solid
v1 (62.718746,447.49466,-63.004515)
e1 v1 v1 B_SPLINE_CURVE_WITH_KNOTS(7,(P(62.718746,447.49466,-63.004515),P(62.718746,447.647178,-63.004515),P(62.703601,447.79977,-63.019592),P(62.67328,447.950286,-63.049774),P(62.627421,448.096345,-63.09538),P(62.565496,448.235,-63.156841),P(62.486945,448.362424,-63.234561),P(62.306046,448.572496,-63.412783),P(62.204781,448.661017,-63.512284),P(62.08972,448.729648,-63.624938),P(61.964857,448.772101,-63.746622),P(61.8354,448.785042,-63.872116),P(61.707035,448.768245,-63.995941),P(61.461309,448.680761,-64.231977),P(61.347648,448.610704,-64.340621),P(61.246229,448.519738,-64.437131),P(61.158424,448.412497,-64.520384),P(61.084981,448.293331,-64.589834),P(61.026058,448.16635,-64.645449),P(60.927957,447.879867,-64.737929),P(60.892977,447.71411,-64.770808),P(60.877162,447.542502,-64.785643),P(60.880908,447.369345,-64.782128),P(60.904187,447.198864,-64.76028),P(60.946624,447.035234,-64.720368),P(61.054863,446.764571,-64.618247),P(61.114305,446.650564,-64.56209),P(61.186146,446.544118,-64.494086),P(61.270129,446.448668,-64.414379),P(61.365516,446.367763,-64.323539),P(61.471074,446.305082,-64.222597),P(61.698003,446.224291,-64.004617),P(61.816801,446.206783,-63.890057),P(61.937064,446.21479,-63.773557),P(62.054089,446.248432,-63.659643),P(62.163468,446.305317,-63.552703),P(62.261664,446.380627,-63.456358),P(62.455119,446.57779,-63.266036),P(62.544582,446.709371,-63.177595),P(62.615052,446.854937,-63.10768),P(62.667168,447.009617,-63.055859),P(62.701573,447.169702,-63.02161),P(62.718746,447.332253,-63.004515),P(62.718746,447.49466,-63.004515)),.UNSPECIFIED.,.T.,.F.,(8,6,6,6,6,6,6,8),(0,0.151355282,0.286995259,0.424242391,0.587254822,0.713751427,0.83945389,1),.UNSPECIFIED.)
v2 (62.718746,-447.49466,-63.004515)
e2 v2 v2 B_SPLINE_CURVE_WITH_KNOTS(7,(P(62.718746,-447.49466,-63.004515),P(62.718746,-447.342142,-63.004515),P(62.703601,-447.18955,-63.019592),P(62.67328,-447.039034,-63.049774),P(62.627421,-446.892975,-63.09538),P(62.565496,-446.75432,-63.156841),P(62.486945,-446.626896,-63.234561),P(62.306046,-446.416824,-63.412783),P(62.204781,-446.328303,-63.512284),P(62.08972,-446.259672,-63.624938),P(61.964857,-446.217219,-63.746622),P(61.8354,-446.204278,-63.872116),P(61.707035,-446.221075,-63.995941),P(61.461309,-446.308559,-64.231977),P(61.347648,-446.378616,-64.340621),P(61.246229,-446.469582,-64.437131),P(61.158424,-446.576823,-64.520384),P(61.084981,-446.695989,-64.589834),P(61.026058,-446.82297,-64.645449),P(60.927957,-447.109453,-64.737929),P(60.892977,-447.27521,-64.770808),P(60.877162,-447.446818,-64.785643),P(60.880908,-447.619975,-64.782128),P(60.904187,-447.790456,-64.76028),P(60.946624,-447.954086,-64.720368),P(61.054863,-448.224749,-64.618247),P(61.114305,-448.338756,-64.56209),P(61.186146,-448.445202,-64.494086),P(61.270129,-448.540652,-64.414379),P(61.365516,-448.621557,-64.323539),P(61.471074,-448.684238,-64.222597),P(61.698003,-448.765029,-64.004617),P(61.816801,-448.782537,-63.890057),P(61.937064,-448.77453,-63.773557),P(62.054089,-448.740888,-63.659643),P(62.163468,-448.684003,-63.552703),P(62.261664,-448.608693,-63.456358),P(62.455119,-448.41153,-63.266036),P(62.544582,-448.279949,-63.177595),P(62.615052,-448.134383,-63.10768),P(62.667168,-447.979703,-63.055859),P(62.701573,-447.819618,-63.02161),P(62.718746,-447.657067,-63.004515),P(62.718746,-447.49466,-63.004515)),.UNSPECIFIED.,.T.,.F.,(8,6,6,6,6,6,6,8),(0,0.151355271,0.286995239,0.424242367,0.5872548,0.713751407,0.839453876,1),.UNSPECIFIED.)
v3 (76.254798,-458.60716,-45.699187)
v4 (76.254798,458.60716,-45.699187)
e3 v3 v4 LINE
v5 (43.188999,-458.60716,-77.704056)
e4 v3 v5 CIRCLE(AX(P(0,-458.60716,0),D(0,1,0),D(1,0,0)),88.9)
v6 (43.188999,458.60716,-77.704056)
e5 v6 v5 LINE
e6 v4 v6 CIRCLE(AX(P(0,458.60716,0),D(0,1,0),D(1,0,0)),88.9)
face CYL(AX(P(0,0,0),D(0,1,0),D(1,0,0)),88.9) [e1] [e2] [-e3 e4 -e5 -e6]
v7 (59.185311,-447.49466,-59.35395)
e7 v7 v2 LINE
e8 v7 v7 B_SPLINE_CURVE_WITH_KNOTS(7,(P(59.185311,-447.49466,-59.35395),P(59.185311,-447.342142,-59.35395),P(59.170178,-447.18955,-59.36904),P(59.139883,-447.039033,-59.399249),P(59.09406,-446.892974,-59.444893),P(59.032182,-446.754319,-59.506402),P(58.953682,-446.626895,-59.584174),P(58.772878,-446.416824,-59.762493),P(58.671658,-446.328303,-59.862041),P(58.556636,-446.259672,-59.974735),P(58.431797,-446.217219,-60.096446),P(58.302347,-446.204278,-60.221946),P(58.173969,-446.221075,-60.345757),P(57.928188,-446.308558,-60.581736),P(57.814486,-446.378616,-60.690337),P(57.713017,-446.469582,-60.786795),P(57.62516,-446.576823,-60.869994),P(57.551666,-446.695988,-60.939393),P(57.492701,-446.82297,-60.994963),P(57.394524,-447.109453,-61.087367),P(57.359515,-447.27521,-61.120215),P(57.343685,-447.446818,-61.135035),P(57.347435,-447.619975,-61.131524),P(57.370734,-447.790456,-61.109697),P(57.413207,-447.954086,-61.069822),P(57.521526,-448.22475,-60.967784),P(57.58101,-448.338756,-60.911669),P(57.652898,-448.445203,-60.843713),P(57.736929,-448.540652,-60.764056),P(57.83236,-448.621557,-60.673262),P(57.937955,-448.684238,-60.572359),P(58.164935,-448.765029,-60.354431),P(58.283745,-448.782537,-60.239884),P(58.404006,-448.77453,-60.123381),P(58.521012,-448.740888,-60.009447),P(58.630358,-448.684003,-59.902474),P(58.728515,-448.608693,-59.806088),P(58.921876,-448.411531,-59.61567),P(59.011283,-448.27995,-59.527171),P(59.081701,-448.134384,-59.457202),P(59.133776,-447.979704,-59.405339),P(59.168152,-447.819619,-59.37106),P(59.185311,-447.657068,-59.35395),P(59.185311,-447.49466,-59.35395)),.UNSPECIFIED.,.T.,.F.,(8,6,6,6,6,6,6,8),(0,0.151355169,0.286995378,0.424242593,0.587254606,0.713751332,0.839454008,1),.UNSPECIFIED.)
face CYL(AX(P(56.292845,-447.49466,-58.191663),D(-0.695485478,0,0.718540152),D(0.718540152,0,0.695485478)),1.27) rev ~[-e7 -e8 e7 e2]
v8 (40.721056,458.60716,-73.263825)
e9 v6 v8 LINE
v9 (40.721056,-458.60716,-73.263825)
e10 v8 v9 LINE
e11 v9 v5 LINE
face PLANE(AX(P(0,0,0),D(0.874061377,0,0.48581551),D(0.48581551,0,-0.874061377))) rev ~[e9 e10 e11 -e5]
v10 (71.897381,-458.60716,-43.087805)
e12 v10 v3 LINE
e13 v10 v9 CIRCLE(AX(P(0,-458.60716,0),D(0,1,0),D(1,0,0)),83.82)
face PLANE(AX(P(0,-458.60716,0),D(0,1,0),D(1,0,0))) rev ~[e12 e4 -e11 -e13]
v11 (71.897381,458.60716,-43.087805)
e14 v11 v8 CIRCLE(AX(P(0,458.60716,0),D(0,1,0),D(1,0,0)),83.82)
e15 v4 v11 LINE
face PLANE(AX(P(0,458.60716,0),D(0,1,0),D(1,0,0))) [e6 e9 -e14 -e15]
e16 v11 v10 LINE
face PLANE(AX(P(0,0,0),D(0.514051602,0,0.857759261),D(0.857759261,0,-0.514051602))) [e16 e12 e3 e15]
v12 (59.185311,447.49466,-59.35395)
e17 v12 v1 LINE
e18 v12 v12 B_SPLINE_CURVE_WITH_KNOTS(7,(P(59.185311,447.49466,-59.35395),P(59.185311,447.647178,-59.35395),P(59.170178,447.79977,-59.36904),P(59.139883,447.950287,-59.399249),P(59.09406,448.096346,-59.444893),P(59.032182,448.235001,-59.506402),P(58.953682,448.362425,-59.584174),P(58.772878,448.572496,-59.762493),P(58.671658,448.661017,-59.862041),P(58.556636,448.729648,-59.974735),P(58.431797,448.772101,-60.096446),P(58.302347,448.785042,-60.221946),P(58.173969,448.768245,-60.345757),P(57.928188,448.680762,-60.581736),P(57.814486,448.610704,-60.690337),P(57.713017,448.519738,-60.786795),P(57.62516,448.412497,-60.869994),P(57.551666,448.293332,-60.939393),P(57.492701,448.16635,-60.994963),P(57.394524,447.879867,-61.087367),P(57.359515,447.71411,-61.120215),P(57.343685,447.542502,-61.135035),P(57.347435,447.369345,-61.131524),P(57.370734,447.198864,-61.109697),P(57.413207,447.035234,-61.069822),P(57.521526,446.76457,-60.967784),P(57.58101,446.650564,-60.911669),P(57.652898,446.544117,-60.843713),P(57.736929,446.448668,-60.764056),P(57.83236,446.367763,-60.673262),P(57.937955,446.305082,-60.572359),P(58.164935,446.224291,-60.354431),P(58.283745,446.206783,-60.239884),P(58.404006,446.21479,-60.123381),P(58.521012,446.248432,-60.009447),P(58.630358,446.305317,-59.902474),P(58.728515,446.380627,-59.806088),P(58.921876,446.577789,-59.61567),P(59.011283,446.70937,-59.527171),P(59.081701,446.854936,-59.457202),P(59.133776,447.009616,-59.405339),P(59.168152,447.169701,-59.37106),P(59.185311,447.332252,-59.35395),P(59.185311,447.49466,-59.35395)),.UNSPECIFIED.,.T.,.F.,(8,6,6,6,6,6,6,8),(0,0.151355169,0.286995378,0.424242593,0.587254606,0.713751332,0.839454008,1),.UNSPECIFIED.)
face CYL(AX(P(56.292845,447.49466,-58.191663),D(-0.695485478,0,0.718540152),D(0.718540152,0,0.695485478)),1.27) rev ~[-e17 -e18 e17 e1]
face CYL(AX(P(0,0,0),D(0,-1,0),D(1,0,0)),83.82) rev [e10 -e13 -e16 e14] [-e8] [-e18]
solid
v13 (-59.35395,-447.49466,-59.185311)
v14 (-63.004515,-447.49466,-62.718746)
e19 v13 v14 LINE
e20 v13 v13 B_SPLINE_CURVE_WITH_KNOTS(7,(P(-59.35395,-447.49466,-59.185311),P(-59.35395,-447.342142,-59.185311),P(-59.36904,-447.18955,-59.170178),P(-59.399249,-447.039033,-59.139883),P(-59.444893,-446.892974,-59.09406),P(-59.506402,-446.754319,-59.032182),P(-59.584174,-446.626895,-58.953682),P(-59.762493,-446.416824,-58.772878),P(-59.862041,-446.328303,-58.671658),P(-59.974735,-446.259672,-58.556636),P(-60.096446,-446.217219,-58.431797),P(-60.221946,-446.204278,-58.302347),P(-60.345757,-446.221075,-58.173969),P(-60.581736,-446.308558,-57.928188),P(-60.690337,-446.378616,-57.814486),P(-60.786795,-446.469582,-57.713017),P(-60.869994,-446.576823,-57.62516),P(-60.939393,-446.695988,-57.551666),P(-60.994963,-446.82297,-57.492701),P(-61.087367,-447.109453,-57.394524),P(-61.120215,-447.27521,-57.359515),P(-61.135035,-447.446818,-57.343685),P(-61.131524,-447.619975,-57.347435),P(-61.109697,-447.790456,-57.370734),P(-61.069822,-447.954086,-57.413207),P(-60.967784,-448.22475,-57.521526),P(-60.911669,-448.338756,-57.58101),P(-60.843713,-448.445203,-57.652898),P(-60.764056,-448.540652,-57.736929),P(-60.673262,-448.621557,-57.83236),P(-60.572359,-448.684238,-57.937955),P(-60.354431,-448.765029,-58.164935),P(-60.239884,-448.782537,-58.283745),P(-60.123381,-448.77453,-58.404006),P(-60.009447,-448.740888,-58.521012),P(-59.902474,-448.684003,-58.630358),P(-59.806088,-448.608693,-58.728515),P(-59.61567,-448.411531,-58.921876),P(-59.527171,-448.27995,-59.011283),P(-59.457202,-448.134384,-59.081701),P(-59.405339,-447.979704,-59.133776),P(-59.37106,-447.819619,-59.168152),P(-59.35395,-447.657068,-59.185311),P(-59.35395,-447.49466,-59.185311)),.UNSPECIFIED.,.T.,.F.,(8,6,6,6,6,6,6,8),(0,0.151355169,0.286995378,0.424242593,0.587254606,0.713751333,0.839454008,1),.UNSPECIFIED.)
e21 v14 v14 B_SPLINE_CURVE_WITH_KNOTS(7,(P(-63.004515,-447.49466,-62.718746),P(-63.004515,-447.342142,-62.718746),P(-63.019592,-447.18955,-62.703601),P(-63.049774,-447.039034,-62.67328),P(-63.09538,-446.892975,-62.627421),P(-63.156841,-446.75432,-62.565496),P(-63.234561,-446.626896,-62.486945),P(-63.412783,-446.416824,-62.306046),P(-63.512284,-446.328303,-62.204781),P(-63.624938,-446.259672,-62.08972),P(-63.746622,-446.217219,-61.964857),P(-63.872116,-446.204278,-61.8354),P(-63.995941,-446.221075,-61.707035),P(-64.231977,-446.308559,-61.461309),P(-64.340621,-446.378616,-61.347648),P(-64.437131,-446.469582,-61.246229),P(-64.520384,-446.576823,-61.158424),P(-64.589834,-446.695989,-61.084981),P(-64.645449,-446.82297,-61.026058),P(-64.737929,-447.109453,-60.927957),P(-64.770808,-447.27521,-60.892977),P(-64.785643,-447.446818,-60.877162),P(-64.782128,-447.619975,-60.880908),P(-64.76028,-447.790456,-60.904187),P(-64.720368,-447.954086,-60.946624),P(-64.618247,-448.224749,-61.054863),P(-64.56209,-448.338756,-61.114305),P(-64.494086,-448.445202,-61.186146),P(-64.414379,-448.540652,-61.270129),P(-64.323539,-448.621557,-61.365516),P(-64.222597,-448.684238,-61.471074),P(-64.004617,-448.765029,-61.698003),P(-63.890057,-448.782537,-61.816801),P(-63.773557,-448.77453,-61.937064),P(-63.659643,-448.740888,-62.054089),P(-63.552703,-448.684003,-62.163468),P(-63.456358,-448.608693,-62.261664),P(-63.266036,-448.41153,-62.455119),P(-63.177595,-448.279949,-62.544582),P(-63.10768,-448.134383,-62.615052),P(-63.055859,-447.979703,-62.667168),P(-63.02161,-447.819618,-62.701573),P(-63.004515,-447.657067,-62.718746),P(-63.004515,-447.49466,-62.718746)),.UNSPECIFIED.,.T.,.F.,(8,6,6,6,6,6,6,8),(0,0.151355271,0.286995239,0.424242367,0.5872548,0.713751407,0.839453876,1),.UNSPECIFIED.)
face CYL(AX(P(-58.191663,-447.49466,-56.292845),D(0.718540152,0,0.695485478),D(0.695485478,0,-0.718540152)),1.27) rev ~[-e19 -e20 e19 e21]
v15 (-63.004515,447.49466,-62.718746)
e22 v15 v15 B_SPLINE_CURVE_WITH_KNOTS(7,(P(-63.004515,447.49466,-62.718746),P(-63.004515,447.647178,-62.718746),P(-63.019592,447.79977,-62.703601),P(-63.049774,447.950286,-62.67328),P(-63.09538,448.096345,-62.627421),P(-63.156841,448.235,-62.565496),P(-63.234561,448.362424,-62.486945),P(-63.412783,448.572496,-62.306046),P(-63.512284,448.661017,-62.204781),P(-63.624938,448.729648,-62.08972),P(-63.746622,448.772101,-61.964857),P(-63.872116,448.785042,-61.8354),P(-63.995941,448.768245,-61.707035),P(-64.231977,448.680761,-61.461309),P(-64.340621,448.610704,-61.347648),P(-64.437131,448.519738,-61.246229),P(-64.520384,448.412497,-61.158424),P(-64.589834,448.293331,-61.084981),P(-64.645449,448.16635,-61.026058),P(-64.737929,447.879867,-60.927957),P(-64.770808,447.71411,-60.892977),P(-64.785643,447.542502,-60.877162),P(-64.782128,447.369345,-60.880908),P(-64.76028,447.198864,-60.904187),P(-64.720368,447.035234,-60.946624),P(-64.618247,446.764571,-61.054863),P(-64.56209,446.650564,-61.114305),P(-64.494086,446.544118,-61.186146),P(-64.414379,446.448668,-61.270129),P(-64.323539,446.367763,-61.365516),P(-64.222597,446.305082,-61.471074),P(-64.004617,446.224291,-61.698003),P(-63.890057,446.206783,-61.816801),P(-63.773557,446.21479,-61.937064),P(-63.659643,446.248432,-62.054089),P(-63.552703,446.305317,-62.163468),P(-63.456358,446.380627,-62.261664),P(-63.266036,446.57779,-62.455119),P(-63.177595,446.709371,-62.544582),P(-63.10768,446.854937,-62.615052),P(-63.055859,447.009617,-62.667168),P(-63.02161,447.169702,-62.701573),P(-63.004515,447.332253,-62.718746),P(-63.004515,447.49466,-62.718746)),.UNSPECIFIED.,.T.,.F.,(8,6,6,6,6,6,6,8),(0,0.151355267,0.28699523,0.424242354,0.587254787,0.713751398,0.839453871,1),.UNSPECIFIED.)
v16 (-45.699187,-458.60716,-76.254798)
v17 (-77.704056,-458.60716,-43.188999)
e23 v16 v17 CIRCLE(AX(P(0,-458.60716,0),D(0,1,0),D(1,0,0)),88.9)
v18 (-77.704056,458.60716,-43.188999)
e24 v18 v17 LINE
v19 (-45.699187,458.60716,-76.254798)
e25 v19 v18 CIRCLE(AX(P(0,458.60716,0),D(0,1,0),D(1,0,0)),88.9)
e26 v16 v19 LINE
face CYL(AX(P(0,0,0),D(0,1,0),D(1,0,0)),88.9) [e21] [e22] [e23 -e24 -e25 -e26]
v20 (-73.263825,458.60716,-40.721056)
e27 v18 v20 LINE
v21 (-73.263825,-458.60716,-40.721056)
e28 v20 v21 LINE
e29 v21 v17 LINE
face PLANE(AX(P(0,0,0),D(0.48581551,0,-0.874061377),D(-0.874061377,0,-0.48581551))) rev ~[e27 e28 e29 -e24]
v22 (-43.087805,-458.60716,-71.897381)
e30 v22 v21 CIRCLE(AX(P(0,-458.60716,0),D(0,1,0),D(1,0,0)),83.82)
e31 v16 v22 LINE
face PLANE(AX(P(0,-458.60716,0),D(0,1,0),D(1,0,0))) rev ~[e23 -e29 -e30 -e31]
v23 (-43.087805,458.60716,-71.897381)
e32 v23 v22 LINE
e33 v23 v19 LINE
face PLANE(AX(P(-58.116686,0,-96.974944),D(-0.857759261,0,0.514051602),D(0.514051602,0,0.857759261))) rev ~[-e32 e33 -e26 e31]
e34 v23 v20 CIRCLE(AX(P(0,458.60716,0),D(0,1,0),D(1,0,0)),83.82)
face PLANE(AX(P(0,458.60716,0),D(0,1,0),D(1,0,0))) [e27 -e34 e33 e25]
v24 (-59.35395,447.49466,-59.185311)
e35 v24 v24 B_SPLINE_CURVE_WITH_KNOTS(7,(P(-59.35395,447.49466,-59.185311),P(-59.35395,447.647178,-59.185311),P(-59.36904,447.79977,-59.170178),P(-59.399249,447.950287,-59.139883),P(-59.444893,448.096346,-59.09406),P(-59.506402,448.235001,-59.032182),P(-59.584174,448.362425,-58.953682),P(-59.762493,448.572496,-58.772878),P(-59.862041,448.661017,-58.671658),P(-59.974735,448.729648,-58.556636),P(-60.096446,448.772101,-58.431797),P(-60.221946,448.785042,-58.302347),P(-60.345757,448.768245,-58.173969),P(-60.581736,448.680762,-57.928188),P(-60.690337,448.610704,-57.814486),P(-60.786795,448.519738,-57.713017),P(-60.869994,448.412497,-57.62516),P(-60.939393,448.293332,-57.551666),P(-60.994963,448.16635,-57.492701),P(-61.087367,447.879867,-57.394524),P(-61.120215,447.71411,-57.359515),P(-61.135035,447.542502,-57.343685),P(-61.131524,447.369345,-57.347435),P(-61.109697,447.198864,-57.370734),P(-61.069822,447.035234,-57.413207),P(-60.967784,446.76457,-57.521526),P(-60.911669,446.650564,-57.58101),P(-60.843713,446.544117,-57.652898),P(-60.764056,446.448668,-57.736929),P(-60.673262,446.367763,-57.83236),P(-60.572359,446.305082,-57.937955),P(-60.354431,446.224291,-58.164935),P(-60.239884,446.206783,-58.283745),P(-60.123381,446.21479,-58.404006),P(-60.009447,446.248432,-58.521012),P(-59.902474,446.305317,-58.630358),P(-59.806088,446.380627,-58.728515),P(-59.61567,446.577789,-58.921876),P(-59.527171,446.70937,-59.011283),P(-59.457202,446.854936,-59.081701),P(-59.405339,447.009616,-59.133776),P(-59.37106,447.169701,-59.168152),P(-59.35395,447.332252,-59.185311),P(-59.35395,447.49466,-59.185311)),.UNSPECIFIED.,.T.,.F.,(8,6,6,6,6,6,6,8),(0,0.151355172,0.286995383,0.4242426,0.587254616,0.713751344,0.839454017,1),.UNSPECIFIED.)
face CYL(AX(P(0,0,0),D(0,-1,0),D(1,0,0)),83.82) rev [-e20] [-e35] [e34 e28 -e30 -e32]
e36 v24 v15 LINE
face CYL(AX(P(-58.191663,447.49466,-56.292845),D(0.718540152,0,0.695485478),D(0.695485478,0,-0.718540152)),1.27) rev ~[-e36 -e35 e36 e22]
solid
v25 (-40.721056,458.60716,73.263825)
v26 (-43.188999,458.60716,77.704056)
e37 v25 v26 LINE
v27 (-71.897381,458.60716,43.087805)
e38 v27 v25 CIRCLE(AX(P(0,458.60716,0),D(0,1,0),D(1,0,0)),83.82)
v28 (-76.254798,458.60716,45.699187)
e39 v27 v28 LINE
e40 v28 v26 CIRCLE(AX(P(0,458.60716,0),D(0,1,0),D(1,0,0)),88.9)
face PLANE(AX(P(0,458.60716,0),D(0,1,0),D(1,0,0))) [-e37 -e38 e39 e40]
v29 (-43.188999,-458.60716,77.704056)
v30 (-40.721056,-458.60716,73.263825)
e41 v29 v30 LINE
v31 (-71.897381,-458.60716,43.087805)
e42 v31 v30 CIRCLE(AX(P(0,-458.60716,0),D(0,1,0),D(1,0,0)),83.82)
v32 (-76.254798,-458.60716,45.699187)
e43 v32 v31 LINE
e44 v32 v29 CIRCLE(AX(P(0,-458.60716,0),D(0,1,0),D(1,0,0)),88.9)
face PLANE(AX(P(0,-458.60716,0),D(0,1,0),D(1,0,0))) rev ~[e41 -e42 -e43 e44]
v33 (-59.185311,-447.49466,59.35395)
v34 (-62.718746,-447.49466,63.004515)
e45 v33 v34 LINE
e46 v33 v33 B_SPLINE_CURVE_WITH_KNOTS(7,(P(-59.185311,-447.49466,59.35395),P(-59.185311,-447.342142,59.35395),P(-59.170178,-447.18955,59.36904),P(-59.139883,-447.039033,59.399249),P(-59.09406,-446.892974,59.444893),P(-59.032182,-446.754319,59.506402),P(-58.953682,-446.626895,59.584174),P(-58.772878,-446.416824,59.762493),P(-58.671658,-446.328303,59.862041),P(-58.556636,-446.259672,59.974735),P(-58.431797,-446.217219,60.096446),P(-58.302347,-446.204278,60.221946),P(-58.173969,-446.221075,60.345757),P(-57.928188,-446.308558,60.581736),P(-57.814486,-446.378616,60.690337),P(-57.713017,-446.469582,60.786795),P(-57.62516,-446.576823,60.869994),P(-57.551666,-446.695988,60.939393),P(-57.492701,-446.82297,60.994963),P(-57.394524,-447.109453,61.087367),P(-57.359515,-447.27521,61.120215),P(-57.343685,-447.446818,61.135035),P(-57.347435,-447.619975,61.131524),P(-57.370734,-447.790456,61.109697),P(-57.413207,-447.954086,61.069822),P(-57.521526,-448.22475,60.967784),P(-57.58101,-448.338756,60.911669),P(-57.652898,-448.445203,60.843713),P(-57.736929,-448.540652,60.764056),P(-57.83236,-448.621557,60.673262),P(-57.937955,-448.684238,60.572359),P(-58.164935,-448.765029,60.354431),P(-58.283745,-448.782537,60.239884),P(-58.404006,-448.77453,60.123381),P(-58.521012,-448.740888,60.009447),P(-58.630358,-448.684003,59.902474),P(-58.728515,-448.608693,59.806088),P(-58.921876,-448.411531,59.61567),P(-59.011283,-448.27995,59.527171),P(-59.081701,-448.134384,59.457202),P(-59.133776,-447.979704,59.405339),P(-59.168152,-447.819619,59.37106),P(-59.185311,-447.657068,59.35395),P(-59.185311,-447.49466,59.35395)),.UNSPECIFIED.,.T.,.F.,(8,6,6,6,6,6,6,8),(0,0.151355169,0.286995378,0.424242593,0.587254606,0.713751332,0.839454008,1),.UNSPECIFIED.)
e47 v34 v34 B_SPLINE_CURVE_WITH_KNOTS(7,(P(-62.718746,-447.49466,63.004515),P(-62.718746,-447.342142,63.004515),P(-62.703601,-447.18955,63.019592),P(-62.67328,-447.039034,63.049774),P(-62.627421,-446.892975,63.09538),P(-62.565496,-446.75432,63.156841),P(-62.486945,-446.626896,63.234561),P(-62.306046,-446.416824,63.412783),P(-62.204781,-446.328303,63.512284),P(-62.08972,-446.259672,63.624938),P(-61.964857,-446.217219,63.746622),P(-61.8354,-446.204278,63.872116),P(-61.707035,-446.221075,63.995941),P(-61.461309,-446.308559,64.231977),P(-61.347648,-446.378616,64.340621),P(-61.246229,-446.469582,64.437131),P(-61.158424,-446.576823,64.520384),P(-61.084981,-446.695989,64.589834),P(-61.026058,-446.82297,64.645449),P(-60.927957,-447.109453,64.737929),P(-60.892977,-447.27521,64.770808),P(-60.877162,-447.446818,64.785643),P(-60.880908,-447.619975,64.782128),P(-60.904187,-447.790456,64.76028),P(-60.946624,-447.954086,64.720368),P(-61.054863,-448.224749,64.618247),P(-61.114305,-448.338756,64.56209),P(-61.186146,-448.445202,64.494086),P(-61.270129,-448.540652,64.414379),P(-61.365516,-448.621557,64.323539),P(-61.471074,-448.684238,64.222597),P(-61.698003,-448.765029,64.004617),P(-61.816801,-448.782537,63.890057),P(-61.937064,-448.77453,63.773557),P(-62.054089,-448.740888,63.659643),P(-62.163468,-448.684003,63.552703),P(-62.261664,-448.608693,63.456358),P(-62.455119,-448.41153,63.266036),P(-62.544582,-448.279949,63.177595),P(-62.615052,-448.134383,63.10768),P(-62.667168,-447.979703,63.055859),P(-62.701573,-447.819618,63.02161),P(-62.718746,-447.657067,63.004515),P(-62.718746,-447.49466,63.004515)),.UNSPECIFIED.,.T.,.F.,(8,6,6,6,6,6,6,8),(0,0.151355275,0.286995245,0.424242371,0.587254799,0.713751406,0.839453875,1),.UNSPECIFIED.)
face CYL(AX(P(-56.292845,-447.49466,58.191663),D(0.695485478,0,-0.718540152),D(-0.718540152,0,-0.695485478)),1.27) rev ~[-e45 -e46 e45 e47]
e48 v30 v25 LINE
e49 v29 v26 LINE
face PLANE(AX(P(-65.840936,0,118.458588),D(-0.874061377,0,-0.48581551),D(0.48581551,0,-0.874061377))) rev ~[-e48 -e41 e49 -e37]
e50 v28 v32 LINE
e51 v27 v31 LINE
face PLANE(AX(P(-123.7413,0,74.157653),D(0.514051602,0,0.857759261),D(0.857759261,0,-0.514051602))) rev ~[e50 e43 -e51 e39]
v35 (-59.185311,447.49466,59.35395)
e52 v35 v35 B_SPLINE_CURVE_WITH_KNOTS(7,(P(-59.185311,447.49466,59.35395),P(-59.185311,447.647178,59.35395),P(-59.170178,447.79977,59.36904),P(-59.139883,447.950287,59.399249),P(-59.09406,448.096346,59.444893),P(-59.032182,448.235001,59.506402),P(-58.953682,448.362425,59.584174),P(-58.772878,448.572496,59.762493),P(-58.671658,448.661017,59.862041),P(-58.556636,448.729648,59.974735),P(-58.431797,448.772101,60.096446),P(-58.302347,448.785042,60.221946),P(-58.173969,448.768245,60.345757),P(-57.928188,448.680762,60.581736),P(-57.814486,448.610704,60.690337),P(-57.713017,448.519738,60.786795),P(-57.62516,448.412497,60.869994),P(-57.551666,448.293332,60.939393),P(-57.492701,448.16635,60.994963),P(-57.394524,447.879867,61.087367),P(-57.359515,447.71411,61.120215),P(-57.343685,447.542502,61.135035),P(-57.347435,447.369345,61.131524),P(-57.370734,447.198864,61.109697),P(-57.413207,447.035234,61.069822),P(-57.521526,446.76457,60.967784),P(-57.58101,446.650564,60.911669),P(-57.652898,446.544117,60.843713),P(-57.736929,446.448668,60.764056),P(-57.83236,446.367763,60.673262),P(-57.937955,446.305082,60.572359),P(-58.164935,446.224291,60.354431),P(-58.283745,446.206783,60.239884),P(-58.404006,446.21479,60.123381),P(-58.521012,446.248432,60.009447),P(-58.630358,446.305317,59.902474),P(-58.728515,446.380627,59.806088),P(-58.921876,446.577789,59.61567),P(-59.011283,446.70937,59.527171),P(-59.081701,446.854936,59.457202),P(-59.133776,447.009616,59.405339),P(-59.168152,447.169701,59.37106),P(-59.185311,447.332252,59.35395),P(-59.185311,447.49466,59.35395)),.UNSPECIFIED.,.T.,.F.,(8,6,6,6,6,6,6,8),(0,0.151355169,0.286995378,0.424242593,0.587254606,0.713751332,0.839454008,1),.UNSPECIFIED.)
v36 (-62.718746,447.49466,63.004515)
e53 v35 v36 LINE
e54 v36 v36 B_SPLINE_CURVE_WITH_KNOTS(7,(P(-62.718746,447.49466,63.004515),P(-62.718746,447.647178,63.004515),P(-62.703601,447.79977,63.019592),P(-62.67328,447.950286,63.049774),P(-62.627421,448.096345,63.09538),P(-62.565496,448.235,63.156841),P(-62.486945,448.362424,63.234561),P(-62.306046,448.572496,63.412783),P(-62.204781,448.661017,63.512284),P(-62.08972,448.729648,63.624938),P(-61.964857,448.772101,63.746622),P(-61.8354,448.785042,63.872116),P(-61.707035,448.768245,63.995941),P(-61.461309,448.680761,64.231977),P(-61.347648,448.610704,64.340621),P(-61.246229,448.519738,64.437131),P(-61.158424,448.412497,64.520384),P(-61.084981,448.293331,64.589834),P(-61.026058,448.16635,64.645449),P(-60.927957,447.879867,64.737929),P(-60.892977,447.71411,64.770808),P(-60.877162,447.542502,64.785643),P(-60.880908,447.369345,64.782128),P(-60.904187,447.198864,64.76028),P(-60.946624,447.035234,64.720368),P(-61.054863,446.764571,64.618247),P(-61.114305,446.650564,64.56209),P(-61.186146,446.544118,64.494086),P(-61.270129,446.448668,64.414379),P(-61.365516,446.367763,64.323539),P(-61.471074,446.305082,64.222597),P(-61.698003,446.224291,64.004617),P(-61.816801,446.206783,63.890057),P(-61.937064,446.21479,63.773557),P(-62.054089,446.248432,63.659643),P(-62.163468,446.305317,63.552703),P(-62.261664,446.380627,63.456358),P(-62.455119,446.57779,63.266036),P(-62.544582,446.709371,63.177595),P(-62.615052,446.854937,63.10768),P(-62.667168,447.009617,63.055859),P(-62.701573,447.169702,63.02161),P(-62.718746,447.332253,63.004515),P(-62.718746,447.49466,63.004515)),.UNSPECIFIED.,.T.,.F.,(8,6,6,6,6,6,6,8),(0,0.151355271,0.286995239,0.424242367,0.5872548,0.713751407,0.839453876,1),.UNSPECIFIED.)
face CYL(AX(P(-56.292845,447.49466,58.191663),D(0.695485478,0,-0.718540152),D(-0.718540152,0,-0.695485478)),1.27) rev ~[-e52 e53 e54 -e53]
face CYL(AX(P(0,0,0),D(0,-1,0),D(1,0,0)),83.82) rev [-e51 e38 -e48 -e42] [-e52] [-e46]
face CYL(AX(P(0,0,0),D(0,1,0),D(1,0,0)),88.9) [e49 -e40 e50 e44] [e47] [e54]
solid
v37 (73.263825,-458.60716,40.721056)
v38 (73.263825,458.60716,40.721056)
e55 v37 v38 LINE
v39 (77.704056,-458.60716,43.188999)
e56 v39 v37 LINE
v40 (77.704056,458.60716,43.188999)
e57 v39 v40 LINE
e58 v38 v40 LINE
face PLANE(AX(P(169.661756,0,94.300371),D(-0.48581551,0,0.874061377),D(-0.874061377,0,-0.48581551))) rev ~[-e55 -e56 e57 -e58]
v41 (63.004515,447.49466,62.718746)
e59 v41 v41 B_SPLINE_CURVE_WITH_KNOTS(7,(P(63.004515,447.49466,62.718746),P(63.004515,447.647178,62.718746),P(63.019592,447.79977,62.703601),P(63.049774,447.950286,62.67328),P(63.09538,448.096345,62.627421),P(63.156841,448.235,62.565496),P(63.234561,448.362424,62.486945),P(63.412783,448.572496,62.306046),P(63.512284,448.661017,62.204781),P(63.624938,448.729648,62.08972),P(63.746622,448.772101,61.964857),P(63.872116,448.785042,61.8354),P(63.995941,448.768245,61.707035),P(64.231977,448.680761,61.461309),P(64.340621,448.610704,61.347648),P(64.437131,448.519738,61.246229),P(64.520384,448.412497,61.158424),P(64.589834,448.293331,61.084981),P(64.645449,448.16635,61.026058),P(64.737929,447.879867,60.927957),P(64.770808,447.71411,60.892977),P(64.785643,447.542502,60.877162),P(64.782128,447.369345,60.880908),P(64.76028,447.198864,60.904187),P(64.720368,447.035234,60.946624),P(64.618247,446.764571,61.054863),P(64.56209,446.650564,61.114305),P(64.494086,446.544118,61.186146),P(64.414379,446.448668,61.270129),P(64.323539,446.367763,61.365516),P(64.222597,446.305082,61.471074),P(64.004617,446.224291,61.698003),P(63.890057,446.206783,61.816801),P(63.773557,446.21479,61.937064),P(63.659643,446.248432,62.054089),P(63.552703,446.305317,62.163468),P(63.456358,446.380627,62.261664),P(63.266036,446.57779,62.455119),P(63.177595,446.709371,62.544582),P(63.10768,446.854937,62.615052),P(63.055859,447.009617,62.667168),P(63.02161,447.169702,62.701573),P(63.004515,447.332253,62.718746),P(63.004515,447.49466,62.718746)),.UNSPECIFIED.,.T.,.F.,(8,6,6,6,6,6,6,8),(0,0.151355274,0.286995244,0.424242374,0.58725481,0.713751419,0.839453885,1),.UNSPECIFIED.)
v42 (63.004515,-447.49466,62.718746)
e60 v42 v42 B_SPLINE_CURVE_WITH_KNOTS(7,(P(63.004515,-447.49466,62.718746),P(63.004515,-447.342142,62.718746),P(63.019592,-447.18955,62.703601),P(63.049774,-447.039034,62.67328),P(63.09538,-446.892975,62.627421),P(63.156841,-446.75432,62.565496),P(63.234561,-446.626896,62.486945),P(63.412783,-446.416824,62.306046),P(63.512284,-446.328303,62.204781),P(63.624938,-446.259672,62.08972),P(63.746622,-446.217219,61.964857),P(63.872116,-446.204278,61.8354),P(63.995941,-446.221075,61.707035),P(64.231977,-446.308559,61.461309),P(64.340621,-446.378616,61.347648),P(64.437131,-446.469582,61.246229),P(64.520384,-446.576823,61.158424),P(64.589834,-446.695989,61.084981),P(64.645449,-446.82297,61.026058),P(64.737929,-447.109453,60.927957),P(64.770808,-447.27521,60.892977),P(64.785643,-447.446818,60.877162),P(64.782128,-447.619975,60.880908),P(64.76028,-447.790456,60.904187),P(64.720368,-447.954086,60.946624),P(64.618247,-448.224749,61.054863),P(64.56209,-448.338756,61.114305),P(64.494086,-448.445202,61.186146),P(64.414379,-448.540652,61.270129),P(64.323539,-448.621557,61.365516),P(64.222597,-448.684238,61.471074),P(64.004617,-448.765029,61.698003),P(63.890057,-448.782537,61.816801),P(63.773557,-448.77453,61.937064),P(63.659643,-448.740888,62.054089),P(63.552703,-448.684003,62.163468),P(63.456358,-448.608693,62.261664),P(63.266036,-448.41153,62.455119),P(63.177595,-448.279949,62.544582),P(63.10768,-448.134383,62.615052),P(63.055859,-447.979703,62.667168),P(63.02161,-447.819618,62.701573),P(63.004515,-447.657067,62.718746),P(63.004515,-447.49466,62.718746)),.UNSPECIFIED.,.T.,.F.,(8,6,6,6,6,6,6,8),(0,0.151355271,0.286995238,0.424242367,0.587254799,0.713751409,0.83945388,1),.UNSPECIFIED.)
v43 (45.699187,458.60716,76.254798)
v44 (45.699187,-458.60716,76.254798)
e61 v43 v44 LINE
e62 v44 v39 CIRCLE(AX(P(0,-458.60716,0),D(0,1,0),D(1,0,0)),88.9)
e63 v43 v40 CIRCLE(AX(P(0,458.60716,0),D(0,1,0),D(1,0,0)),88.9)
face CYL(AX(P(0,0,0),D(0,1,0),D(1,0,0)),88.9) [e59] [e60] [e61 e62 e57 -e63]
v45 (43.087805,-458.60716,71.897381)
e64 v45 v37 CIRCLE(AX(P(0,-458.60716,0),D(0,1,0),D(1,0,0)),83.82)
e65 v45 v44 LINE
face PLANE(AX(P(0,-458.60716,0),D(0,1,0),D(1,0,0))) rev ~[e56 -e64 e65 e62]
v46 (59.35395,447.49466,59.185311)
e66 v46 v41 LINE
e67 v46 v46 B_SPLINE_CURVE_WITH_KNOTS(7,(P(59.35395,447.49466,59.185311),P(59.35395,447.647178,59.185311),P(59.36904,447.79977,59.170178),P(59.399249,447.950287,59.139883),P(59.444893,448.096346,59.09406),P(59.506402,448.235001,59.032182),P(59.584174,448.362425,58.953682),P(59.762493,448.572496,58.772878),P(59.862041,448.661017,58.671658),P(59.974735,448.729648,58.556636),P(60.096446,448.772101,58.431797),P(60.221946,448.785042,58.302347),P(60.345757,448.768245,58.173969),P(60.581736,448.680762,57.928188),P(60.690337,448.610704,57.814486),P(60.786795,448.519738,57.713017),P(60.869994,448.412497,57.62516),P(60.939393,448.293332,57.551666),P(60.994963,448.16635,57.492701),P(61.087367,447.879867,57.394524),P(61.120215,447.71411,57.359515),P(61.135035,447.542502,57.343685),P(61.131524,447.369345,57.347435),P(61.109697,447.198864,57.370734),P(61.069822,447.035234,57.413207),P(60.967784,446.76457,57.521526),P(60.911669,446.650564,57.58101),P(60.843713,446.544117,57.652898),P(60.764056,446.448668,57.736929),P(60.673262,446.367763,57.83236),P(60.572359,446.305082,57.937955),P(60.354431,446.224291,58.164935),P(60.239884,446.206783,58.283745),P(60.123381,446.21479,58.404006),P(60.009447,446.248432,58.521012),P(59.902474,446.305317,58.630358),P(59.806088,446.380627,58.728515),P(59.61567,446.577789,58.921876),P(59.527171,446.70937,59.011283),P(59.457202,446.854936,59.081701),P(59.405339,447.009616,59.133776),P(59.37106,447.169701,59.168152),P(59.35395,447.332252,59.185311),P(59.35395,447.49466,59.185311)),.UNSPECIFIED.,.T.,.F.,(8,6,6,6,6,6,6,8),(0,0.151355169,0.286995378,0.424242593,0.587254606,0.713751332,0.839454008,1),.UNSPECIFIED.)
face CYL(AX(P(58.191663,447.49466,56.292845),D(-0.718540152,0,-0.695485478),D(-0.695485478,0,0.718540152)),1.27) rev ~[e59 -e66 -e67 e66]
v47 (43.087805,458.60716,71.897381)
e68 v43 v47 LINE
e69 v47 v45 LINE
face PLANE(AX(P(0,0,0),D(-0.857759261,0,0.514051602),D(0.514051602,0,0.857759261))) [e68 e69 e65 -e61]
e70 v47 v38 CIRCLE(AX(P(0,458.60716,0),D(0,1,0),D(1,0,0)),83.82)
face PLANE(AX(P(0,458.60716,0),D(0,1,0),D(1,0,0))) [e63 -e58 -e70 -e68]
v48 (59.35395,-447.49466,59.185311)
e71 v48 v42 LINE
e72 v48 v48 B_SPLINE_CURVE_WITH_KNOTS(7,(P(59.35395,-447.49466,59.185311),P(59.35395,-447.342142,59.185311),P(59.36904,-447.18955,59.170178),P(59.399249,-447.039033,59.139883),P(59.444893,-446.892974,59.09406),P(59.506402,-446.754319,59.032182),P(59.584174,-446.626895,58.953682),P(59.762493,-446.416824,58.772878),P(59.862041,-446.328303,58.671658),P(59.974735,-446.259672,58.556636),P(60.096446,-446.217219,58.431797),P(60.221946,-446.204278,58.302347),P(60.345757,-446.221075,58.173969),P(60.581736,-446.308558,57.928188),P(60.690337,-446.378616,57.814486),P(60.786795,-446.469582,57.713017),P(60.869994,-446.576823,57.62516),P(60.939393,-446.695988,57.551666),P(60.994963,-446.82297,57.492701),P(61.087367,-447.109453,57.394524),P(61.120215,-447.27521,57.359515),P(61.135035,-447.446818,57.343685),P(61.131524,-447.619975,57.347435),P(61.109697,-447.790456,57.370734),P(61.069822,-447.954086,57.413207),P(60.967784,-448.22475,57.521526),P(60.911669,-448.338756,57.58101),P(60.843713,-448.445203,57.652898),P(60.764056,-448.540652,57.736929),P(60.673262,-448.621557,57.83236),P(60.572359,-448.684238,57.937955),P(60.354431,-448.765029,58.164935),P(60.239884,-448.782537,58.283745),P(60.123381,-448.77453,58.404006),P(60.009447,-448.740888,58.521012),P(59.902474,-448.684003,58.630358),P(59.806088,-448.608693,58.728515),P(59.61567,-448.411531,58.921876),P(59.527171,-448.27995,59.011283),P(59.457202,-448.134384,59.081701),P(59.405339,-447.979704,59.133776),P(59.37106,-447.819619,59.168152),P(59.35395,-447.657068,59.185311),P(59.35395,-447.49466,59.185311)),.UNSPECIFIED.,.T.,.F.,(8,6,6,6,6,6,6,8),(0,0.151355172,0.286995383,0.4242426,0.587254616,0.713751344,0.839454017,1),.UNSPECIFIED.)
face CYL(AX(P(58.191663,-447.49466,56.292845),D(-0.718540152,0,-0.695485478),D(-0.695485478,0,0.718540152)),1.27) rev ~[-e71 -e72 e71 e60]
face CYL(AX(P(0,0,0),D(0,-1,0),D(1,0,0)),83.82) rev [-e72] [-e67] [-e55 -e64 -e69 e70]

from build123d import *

# Parameters (mm, degrees)
SKETCH2_R               = 88.9
SKETCH2_R_2             = 83.82
BOSS_EXTRUDE1_DEPTH     = 458.60716
CUT_EXTRUDE1_DEPTH      = 459.60716
CUT_EXTRUDE1_DEPTH_BACK = 459.60716
SKETCH5_R               = 1.27
BOLT_HOLES_DEPTH        = 29.911624556
BOLT_PATTERN_COUNT      = 4


with BuildPart() as part:
    # Sketch2 → Boss-Extrude1 (new body, symmetric)
    with BuildSketch(Plane(origin=(0, 0, 0), x_dir=(1, 0, 0), z_dir=(0, 1, 0))):
        Circle(SKETCH2_R)
        Circle(SKETCH2_R_2, mode=Mode.SUBTRACT)
    extrude(amount=BOSS_EXTRUDE1_DEPTH, both=True)

    # Sketch3 → Cut-Extrude1 (cut, two sides)
    with BuildSketch(Plane(origin=(0, 0, 0), x_dir=(1, 0, 0), z_dir=(0, 1, 0))) as cut_extrude1_sk:
        Polygon((169.661755759, -94.300371224), (0, 0), (169.661755759, 101.677593364), align=None)
        Polygon((0, 0), (53.900027233, 96.974944394), (-58.116685864, 96.974944394), align=None)
        Polygon((-123.741299607, 68.777140945), (-123.741299607, -74.157652604), (0, 0), align=None)
        Polygon((-65.840936026, -118.45858783), (0, 0), (70.991745134, -118.45858783), align=None)
    extrude(amount=CUT_EXTRUDE1_DEPTH, mode=Mode.SUBTRACT)
    extrude(cut_extrude1_sk.sketch, amount=-CUT_EXTRUDE1_DEPTH_BACK, mode=Mode.SUBTRACT)

    # Sketch5 → Bolt holes (cut, through all)
    with BuildSketch(Plane(origin=(-56.309218645, 0, 58.175814955), x_dir=(-0.718540152, 0, -0.695485478), z_dir=(0.695485478, 0, -0.718540152))):
        with Locations((-0.02278764, 447.49466)):
            Circle(SKETCH5_R)
        with Locations((-0.02278764, -447.49466)):
            Circle(SKETCH5_R)
    bolt_holes = extrude(amount=-BOLT_HOLES_DEPTH, mode=Mode.SUBTRACT)

    # Bolt pattern: Bolt holes ×4 about axis
    bolt_pattern_axis = Axis((0, 458.60716, 0), (0, 1, 0))
    for i in range(1, BOLT_PATTERN_COUNT):
        add(bolt_holes.rotate(bolt_pattern_axis, i * 360 / BOLT_PATTERN_COUNT), mode=Mode.SUBTRACT)


solid = part.part
